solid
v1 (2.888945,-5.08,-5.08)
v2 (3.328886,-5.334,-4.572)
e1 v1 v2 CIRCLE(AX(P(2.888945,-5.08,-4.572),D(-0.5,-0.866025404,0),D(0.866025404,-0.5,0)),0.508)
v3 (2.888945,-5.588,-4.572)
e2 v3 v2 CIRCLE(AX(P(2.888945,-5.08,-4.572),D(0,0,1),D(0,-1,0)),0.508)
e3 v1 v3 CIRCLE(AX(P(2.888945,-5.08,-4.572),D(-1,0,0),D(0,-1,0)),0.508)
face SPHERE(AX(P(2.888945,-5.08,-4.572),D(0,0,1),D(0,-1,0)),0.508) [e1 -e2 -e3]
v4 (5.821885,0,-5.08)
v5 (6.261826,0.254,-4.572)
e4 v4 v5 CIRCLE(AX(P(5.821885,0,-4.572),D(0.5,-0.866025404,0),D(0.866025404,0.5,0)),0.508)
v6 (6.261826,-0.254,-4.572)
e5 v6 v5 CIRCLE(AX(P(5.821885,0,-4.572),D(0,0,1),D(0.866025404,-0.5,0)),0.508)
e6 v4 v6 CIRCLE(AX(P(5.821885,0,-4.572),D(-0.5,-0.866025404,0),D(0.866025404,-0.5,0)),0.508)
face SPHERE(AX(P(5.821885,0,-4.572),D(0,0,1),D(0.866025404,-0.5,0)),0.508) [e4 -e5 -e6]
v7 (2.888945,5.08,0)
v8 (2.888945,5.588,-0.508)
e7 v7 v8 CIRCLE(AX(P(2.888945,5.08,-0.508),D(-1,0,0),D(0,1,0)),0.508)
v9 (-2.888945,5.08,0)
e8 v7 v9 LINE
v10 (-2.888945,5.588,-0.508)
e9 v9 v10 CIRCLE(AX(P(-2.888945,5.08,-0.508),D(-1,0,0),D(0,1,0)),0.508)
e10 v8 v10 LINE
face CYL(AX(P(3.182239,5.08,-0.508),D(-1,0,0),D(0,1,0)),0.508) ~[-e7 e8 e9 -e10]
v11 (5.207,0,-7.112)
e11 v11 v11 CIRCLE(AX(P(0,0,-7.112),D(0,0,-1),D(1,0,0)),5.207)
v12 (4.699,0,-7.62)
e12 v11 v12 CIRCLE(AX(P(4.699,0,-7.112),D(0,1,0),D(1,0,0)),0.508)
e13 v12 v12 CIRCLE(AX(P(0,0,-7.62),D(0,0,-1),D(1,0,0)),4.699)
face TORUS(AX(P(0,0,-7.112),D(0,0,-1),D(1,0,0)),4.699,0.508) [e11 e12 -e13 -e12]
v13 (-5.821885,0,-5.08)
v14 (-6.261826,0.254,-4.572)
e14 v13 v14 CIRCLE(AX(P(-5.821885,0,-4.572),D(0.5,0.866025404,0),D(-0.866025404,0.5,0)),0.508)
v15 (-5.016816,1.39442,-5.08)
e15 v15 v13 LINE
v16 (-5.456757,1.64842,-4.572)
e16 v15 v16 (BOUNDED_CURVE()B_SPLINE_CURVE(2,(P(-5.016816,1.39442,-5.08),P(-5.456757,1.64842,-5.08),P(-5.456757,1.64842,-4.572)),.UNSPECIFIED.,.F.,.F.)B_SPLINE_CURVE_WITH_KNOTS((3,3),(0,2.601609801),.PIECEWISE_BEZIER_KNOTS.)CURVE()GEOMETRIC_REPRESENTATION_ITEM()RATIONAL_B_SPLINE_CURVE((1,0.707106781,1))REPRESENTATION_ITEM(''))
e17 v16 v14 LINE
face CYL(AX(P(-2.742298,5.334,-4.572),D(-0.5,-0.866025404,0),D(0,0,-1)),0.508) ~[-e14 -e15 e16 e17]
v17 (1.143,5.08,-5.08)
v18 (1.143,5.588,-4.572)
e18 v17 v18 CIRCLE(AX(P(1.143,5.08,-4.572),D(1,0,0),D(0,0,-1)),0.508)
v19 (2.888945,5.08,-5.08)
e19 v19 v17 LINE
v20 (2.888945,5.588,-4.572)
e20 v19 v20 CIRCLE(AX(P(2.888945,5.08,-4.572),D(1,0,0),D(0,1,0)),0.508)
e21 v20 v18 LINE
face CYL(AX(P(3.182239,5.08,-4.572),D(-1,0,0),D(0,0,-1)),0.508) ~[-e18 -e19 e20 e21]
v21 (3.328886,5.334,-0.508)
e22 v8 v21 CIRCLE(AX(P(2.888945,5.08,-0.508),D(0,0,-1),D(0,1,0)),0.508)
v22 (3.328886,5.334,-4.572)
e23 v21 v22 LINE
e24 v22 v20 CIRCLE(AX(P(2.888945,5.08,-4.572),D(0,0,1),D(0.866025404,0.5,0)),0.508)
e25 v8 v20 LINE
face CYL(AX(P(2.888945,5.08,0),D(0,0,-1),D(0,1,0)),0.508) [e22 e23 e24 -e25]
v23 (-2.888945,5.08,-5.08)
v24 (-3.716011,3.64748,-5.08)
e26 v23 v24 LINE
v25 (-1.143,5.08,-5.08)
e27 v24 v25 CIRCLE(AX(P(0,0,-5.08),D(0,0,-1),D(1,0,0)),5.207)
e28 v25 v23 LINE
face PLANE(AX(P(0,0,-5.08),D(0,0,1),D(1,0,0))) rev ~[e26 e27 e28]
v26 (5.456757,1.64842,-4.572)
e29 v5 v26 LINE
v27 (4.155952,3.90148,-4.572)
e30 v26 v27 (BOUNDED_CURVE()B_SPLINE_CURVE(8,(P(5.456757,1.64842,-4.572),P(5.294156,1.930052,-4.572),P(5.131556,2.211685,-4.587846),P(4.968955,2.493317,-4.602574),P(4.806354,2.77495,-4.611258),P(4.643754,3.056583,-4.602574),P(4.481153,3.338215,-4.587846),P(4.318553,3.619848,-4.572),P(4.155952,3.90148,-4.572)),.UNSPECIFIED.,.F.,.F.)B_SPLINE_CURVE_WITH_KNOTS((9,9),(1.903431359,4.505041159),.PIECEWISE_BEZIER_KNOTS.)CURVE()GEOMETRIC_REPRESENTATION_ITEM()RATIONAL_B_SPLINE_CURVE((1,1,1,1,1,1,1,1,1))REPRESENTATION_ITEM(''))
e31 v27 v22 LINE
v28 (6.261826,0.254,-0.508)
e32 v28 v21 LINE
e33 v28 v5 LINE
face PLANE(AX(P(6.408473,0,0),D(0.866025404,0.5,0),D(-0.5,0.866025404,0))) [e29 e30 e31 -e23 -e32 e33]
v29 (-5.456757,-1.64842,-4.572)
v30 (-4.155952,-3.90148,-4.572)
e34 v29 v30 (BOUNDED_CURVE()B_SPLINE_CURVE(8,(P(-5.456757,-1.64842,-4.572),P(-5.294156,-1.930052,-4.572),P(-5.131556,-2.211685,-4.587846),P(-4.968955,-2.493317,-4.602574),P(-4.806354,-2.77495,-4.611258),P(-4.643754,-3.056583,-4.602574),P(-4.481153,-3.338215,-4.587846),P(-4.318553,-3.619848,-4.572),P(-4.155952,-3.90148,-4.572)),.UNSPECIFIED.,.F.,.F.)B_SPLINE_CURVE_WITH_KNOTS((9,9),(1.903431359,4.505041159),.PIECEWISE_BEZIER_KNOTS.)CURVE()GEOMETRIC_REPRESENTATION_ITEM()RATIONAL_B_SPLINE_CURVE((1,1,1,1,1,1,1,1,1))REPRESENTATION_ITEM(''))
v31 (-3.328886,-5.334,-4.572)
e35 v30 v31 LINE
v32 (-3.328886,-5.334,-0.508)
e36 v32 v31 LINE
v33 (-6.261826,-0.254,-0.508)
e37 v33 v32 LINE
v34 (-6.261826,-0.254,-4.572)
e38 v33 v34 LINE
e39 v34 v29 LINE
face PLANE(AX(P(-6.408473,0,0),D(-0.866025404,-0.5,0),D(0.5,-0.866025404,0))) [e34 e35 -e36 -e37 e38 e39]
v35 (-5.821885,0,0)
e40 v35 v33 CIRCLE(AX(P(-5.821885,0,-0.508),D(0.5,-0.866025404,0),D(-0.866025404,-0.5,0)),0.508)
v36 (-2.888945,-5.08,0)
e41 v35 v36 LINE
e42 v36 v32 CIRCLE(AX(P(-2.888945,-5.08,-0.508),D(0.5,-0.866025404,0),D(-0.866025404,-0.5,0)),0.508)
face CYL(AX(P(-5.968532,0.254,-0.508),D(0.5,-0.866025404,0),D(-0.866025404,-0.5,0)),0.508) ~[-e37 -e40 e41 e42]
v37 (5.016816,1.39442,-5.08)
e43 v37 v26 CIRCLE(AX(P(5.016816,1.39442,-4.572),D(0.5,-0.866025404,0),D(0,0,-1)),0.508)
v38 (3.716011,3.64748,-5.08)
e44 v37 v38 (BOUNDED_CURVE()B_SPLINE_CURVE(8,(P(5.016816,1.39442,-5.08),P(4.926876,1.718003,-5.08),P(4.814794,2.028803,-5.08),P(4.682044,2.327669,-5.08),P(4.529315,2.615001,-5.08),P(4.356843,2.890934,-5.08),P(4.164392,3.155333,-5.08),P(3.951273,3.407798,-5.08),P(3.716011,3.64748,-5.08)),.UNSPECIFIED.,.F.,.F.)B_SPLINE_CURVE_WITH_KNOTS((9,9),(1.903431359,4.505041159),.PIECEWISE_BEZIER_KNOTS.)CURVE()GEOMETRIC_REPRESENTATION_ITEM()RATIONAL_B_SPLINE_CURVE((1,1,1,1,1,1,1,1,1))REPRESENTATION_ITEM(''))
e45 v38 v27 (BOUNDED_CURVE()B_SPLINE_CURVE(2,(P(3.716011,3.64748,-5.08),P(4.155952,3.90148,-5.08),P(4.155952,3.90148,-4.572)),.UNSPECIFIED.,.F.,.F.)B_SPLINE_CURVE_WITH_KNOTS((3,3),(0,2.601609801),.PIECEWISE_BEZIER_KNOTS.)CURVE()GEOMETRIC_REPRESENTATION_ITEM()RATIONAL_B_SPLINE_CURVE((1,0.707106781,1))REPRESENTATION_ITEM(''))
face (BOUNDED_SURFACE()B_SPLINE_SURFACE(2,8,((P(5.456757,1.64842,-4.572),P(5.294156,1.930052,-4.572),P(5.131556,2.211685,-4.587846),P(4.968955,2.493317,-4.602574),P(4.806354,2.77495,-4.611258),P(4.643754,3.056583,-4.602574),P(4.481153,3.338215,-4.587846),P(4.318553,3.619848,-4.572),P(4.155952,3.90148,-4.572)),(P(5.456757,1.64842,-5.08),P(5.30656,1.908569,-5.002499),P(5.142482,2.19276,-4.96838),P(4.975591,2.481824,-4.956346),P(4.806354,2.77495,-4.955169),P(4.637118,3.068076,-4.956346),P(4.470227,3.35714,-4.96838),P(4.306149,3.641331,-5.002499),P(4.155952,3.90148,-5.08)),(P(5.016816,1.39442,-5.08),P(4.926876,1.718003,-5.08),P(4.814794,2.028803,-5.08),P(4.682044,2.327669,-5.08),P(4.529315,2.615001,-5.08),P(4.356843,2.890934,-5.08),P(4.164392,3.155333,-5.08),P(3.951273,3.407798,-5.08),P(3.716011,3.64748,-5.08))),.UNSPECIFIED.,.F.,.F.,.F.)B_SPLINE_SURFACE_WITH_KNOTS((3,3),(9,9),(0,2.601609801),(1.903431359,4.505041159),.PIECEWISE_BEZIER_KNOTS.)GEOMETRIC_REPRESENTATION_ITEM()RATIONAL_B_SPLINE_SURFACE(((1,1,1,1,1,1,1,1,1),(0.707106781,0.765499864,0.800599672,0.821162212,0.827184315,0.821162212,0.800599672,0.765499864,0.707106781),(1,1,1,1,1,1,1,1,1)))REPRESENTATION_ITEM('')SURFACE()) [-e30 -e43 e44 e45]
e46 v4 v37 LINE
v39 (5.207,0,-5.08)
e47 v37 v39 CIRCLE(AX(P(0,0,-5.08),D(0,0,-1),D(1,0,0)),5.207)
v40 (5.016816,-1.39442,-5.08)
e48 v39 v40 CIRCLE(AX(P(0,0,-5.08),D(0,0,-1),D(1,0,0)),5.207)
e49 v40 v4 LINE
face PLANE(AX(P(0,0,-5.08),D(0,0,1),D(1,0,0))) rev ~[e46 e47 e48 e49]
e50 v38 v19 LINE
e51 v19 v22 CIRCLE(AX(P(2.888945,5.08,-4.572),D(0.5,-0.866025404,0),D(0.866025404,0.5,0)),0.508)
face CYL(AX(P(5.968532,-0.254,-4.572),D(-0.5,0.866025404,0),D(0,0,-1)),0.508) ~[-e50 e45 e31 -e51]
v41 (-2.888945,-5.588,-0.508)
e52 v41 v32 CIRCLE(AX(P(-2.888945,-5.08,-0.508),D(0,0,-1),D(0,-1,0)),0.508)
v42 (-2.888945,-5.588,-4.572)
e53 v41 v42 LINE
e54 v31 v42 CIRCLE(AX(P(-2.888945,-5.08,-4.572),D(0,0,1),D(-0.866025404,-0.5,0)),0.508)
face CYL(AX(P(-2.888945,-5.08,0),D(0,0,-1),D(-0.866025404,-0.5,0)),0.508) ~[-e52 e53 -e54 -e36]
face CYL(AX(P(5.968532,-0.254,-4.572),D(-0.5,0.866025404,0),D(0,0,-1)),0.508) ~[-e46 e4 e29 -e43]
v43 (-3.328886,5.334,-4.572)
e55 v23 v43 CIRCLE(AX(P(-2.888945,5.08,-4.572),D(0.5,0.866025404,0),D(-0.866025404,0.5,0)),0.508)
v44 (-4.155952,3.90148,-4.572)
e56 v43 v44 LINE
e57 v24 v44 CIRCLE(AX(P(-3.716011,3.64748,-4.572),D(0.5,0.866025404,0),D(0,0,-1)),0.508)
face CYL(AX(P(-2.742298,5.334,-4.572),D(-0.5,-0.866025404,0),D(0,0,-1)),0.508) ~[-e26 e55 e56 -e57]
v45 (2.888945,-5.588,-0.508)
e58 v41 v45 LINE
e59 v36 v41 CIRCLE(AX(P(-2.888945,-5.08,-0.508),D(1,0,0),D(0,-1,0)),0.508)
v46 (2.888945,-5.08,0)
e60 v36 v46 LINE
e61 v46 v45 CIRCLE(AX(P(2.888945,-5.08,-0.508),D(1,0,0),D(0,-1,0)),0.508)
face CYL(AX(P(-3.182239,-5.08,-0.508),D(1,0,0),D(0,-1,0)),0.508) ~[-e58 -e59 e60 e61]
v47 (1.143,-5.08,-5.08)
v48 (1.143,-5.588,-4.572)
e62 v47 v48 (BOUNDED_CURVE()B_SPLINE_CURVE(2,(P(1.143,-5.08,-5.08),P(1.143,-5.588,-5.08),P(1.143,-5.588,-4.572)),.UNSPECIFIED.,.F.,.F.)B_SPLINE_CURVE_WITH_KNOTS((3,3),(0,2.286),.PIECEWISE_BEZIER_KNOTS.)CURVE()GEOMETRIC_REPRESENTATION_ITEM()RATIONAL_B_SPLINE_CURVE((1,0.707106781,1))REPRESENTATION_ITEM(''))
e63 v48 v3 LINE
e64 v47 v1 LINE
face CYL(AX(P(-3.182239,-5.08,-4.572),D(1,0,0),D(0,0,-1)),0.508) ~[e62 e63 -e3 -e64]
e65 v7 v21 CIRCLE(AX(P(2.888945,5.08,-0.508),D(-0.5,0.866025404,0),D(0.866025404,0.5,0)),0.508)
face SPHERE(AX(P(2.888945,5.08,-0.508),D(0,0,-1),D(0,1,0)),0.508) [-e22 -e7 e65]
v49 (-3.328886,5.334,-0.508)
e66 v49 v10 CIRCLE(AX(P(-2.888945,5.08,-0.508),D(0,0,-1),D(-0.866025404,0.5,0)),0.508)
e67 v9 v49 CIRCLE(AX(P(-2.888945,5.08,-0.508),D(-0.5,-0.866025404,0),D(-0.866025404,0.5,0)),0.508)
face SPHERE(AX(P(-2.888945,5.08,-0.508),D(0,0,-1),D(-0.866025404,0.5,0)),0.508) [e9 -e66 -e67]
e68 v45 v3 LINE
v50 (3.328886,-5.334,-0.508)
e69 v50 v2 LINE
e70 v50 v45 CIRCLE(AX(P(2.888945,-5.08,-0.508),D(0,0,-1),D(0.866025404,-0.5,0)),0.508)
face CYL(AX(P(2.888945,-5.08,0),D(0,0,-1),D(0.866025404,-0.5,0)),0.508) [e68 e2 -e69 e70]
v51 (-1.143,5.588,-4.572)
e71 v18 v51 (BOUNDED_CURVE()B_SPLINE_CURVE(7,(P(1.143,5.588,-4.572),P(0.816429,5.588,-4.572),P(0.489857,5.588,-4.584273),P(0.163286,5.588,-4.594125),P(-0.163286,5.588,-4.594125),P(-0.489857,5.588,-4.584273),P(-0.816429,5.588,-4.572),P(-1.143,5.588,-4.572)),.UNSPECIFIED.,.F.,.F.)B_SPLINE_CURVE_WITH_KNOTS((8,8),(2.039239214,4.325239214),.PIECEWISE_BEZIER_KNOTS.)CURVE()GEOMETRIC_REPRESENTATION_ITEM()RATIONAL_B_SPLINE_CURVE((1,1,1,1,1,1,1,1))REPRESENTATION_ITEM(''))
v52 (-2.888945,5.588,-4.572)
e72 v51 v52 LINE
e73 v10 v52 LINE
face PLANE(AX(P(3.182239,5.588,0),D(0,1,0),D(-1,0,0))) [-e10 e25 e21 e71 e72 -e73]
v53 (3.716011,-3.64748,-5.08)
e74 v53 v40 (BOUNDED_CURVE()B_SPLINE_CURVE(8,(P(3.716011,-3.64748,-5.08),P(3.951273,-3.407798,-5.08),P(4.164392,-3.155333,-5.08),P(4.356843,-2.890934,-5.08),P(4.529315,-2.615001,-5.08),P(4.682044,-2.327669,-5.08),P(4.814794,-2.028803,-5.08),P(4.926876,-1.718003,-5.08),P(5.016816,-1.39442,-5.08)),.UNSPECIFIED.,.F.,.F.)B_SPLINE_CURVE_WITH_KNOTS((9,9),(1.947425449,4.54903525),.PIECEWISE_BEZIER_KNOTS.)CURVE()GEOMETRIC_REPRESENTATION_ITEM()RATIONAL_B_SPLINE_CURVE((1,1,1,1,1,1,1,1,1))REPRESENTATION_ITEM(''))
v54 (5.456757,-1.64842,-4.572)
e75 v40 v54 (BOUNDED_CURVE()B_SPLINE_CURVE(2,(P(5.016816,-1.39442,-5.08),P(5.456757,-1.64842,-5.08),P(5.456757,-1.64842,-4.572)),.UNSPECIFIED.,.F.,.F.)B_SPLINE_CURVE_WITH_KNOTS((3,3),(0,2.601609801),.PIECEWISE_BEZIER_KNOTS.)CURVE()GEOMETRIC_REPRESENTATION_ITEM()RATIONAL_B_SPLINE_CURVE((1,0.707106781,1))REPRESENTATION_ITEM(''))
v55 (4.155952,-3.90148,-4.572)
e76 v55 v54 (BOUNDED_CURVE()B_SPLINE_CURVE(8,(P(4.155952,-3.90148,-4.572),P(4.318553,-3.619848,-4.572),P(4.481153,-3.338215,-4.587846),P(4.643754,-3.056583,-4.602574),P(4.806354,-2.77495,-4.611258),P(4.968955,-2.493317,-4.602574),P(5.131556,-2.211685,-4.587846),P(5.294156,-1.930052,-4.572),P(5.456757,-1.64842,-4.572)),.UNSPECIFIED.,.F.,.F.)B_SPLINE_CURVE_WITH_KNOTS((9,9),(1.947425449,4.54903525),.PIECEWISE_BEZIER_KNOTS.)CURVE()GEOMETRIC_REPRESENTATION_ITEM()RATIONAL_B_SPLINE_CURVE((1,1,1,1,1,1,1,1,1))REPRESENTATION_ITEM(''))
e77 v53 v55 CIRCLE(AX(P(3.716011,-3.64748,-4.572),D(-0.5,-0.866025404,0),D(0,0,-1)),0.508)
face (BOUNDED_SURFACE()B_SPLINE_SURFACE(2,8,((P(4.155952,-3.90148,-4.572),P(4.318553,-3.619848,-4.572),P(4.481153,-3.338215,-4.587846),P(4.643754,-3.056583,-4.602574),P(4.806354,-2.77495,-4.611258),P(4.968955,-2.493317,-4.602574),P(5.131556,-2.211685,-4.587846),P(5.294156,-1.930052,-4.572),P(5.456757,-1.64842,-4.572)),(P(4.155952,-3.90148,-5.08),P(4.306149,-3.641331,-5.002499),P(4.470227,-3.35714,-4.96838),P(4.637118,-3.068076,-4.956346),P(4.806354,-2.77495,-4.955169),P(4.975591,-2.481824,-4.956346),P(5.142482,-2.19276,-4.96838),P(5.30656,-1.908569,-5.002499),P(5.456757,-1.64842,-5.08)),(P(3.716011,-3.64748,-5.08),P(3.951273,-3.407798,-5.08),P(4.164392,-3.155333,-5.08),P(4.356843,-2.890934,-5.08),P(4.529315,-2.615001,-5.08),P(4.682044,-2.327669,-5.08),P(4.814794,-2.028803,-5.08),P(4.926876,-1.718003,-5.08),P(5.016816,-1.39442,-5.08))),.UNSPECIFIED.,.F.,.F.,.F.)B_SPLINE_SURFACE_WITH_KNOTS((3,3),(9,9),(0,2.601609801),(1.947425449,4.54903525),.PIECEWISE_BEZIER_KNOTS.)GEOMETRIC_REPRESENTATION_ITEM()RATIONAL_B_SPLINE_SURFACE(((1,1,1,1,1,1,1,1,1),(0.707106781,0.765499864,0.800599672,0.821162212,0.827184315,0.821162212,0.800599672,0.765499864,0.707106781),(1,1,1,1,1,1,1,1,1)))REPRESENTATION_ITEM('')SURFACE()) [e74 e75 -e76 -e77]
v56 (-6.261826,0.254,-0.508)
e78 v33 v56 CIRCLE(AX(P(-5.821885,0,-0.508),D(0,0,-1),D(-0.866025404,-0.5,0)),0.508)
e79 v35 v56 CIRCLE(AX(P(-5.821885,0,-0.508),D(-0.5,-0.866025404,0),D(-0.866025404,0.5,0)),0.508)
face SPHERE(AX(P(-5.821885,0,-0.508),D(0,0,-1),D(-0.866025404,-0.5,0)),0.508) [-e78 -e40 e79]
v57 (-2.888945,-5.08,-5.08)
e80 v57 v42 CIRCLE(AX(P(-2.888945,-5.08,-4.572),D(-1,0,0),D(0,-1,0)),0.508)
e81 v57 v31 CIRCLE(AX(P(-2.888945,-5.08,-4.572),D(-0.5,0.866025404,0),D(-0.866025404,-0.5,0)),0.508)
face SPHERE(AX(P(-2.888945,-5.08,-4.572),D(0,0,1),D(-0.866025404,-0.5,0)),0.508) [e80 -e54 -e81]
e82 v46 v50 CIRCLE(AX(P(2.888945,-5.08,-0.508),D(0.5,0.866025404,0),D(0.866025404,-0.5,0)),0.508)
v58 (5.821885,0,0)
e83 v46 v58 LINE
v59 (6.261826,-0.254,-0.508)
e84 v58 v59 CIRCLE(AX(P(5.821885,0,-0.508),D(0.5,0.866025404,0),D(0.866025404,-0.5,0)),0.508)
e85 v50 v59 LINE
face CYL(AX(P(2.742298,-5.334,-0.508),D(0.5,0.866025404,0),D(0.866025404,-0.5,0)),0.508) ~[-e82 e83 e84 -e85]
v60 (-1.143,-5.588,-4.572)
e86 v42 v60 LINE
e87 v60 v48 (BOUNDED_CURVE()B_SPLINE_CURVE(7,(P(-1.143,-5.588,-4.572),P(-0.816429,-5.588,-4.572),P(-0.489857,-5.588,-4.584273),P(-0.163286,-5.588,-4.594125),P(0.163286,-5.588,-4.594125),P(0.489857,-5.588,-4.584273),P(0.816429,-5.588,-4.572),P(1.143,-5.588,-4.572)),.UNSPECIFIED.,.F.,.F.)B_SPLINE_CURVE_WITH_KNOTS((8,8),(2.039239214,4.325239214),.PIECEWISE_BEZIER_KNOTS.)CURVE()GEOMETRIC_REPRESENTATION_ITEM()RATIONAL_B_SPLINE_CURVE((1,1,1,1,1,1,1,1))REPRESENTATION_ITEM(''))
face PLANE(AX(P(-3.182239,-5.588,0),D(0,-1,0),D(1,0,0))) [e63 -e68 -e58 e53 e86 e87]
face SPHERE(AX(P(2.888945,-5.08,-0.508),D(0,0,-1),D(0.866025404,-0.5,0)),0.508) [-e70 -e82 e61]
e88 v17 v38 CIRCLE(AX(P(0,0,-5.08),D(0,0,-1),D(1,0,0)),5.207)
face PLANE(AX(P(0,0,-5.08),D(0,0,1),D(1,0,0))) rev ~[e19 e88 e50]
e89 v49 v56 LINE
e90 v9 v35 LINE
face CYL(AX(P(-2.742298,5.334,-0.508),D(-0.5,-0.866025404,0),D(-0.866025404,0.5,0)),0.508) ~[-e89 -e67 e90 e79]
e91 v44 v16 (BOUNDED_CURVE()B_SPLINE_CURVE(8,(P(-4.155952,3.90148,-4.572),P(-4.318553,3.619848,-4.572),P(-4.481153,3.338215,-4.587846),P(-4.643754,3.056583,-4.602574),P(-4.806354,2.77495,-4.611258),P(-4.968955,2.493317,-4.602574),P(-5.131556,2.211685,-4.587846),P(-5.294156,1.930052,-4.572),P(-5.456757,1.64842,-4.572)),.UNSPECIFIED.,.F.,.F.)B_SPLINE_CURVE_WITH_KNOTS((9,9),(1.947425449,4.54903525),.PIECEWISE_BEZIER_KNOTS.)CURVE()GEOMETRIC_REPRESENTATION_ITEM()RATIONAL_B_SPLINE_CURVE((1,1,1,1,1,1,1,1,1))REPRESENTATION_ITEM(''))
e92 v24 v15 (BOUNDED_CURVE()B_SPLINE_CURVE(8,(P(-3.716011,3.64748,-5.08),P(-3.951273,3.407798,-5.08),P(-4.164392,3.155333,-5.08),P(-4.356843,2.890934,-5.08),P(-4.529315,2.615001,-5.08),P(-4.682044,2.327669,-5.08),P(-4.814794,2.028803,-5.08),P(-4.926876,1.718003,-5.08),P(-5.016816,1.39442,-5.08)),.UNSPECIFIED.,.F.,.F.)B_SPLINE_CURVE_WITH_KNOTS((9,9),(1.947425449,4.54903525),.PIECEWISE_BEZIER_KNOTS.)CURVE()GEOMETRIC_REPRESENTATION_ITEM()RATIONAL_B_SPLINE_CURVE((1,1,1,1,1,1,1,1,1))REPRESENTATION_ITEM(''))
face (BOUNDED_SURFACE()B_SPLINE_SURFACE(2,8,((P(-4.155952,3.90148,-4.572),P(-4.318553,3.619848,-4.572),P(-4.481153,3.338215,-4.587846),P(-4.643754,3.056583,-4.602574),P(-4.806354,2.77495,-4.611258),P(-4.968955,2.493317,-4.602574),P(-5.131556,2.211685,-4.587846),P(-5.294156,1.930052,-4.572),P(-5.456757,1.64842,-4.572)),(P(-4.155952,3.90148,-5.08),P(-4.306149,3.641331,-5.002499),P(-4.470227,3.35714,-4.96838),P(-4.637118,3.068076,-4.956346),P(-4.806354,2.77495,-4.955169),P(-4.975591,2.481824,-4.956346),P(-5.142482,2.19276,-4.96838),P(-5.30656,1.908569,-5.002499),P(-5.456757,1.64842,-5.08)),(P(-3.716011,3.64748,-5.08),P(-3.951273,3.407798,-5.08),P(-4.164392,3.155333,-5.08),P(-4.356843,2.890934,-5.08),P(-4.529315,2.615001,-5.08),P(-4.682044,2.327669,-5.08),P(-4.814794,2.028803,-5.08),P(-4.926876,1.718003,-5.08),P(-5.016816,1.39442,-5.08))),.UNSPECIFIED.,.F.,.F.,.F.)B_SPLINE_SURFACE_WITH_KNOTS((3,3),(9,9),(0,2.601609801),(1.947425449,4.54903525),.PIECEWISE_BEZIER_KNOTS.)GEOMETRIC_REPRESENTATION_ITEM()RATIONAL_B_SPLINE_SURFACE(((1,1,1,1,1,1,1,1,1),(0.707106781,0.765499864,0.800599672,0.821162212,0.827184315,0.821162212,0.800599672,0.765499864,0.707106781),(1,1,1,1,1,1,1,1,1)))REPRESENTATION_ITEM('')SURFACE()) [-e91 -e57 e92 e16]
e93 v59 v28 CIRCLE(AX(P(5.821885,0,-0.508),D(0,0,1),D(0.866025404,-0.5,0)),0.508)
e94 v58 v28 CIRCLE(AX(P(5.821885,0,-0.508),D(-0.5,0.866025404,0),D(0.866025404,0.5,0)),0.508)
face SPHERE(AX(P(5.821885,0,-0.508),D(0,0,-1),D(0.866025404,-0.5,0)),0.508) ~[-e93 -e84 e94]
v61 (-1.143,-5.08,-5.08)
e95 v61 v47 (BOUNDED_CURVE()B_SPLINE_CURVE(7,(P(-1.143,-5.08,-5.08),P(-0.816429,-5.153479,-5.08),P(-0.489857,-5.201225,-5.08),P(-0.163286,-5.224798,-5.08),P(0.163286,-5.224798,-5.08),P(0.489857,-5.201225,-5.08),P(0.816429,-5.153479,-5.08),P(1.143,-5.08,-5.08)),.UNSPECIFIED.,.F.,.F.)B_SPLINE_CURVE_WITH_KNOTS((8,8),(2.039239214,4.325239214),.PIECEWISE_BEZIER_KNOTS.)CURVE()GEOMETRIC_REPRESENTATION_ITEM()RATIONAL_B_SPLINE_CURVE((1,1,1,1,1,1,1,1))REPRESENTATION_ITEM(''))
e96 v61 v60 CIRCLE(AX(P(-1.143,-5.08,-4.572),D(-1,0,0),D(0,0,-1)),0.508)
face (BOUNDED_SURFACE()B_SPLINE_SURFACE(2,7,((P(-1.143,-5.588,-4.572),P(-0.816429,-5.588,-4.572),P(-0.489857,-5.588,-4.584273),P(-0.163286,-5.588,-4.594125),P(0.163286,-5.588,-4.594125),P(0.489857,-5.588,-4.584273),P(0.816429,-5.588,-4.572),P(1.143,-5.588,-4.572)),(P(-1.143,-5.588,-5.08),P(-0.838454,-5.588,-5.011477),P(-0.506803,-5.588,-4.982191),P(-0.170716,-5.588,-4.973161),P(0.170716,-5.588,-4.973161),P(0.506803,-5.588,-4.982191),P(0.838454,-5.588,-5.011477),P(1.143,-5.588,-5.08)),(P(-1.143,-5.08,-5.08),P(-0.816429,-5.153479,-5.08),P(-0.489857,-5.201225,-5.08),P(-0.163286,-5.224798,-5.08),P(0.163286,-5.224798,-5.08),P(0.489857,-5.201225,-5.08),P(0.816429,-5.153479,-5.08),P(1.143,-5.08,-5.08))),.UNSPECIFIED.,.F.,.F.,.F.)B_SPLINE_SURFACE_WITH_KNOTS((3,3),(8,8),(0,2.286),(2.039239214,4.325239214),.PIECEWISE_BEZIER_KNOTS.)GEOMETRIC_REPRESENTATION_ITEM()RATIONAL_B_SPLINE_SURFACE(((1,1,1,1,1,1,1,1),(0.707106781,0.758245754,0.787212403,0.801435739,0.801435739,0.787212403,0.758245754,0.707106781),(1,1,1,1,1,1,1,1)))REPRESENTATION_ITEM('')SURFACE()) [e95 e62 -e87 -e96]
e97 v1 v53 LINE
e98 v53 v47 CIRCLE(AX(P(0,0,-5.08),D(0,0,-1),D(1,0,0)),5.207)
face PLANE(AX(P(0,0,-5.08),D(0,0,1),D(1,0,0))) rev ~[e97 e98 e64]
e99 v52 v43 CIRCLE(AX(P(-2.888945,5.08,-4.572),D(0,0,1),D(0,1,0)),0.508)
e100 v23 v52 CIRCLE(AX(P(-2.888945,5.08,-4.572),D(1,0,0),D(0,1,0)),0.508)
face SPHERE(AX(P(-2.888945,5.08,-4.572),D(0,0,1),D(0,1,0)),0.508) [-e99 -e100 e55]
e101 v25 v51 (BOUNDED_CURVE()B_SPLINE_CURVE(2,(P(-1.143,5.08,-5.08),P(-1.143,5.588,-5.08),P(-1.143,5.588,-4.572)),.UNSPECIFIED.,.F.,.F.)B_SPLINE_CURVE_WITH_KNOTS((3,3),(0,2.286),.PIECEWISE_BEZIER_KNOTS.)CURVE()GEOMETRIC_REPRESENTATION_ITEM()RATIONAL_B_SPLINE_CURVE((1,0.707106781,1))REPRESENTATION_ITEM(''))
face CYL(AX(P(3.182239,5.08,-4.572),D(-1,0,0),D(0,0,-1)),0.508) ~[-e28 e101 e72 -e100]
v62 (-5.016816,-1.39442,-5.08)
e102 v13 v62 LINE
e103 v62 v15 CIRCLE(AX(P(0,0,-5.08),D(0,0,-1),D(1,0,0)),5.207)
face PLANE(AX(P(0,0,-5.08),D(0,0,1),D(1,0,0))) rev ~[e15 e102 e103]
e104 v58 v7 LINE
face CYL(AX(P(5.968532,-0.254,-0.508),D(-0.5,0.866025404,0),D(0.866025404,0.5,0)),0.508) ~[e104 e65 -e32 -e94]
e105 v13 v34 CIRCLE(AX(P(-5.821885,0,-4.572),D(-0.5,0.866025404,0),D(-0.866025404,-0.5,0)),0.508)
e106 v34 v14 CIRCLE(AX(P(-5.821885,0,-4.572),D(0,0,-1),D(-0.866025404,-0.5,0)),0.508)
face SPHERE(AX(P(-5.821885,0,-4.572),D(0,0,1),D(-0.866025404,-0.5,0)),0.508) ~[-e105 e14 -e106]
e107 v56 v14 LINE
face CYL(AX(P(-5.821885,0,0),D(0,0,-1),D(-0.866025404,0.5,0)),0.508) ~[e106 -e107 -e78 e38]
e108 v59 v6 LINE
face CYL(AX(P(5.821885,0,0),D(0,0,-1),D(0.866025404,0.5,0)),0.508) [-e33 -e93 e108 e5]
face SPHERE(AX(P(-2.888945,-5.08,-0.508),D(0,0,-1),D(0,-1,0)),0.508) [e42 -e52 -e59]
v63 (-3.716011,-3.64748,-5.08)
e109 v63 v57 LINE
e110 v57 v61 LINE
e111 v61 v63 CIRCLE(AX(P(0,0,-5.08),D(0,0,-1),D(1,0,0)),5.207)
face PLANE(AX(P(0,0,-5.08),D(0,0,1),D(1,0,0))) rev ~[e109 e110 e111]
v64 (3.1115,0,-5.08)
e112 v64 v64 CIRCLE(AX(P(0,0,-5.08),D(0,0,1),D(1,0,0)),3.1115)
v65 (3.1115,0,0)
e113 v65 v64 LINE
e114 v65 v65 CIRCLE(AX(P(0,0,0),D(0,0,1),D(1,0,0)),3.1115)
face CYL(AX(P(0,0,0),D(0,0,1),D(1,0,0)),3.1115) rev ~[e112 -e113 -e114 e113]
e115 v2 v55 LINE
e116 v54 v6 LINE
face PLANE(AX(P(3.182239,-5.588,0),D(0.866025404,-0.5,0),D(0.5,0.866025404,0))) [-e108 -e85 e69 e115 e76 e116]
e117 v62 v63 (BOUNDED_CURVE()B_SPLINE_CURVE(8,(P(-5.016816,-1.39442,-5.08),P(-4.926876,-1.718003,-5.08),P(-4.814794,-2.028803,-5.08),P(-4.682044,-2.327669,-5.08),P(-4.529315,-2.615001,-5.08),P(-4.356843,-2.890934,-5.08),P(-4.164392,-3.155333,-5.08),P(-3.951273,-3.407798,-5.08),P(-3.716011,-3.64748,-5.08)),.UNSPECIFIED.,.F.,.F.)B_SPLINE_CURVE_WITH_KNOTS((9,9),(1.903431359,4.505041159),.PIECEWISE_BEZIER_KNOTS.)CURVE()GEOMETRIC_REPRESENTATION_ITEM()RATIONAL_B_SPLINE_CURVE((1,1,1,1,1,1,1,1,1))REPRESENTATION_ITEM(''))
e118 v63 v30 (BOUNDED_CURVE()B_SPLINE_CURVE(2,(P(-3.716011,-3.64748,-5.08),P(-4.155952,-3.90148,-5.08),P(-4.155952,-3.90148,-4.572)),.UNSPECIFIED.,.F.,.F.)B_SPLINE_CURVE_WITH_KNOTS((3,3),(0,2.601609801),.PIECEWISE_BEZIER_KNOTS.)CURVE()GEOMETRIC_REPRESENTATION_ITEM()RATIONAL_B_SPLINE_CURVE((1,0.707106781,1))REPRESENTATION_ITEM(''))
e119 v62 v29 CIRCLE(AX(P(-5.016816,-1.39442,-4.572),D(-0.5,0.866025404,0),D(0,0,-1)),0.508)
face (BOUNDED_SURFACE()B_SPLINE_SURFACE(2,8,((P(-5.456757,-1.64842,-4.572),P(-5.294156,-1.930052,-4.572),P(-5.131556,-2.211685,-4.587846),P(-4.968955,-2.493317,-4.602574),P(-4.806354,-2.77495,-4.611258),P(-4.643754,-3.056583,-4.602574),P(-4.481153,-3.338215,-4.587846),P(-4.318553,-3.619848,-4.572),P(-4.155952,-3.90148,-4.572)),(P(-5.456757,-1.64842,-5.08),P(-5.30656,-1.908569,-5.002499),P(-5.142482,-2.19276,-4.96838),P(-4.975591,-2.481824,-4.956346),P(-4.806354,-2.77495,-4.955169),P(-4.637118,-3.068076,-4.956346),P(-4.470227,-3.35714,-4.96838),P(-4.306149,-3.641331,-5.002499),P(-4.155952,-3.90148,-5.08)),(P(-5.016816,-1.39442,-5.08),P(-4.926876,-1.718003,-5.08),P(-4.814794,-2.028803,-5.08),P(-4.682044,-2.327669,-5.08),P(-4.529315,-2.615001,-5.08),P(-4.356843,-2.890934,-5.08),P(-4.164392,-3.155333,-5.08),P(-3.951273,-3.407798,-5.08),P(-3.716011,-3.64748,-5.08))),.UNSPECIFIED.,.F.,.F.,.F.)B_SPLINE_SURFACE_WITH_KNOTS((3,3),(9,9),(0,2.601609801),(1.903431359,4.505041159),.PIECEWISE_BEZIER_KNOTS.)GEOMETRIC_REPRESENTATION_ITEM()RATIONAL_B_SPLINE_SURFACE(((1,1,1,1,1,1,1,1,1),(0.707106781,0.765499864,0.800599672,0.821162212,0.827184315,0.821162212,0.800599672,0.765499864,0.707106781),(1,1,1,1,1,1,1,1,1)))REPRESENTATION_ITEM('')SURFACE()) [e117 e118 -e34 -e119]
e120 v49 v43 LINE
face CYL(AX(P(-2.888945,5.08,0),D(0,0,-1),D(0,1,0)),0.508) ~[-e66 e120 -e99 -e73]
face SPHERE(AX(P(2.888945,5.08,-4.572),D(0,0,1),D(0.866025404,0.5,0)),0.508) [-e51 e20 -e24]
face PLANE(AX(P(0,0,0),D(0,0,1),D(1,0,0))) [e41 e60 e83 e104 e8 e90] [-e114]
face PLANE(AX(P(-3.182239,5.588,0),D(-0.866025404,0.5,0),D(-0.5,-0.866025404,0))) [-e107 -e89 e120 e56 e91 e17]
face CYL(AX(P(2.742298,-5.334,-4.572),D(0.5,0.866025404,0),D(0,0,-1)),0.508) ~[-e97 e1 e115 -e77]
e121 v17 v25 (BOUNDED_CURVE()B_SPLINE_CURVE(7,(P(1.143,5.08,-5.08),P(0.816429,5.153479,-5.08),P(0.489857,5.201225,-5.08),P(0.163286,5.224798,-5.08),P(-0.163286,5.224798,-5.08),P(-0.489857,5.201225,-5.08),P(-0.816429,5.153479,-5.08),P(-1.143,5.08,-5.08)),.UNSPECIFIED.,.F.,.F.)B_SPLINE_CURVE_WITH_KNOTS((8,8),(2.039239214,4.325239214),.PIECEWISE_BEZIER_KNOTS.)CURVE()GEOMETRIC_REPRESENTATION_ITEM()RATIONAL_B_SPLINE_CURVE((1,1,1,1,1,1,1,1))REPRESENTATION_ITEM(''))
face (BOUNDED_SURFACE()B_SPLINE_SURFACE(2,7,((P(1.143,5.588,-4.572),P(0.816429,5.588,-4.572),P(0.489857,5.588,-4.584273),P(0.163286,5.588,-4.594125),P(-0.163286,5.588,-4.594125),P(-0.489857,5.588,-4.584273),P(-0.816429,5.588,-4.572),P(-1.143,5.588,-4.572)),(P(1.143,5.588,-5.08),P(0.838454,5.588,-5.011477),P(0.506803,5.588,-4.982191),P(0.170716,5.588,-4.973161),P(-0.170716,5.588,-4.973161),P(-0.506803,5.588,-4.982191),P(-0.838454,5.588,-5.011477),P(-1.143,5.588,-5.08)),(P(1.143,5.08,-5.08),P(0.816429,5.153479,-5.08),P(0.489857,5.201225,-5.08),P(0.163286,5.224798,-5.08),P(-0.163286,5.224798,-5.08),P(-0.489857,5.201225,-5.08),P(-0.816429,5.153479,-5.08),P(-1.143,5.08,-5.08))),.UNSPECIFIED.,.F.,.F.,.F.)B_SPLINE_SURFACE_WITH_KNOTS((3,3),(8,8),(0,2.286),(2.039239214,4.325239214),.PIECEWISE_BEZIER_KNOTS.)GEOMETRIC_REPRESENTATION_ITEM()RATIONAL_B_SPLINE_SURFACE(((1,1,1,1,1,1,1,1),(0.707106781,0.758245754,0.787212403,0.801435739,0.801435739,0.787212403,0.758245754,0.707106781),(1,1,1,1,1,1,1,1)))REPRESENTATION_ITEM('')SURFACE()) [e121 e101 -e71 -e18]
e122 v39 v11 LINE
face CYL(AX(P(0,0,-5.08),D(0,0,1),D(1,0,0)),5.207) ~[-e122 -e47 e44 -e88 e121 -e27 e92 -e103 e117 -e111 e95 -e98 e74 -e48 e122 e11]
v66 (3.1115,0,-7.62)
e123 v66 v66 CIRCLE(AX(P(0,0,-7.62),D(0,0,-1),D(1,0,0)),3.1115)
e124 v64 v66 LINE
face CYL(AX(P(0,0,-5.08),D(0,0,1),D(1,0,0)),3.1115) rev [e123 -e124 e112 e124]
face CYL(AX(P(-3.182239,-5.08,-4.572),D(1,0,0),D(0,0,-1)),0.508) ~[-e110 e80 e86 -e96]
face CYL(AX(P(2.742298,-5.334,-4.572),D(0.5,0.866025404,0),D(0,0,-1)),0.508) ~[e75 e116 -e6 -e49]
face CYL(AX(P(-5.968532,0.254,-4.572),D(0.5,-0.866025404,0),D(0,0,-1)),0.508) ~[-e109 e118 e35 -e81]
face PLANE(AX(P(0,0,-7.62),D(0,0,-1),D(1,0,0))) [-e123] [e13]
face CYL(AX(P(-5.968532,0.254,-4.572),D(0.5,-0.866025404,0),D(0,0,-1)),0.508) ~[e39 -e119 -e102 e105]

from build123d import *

# Parameters (mm, degrees)
SKETCH1_R      = 3.1115
EXTRUDE1_DEPTH = 5.08
SKETCH2_R      = 5.207
SKETCH2_R_2    = 3.1115
EXTRUDE2_DEPTH = 2.54
FILLET1_R      = 0.508


with BuildPart() as part:
    # Sketch1 → Extrude1 (new body)
    with BuildSketch(Plane.XY):
        Polygon((3.182239214, 5.588), (-3.182239214, 5.588), (-6.408472518, 0), (-3.182239214, -5.588), (3.182239214, -5.588), (6.408472518, 0), align=None)
        Circle(SKETCH1_R, mode=Mode.SUBTRACT)
    extrude(amount=-EXTRUDE1_DEPTH)

    # Sketch2 → Extrude2 (add)
    with BuildSketch(Plane(origin=(0, 0, -5.08), x_dir=(-1, 0, 0), z_dir=(0, 0, -1))):
        with Locations(Location((0, 0, 0), (0, 0, 180))):
            Circle(SKETCH2_R)
        with Locations(Location((0, 0, 0), (0, 0, 180))):
            Circle(SKETCH2_R_2, mode=Mode.SUBTRACT)
    extrude(amount=EXTRUDE2_DEPTH)

    # Fillet1
    fillet1_edges = [part.edges().sort_by_distance(p)[0] for p in [
        (-4.795355866, 2.794, -5.08),
        (6.408472518, 0, -2.54),
        (3.182239214, -5.588, -2.54),
        (-3.182239214, -5.588, -2.54),
        (-6.408472518, 0, -2.54),
        (-3.182239214, 5.588, -2.54),
        (3.182239214, 5.588, -2.54),
        (-4.795355866, -2.794, -5.08),
        (0, -5.588, -5.08),
        (4.795355866, -2.794, -5.08),
        (-5.207, 0, -7.62),
        (4.795355866, 2.794, -5.08),
        (4.795355866, -2.794, 0),
        (0, -5.588, 0),
        (-4.795355866, -2.794, 0),
        (0, 5.588, -5.08),
        (-4.795355866, 2.794, 0),
        (0, 5.588, 0),
        (4.795355866, 2.794, 0),
    ]]
    fillet(fillet1_edges, radius=FILLET1_R)


solid = part.part
